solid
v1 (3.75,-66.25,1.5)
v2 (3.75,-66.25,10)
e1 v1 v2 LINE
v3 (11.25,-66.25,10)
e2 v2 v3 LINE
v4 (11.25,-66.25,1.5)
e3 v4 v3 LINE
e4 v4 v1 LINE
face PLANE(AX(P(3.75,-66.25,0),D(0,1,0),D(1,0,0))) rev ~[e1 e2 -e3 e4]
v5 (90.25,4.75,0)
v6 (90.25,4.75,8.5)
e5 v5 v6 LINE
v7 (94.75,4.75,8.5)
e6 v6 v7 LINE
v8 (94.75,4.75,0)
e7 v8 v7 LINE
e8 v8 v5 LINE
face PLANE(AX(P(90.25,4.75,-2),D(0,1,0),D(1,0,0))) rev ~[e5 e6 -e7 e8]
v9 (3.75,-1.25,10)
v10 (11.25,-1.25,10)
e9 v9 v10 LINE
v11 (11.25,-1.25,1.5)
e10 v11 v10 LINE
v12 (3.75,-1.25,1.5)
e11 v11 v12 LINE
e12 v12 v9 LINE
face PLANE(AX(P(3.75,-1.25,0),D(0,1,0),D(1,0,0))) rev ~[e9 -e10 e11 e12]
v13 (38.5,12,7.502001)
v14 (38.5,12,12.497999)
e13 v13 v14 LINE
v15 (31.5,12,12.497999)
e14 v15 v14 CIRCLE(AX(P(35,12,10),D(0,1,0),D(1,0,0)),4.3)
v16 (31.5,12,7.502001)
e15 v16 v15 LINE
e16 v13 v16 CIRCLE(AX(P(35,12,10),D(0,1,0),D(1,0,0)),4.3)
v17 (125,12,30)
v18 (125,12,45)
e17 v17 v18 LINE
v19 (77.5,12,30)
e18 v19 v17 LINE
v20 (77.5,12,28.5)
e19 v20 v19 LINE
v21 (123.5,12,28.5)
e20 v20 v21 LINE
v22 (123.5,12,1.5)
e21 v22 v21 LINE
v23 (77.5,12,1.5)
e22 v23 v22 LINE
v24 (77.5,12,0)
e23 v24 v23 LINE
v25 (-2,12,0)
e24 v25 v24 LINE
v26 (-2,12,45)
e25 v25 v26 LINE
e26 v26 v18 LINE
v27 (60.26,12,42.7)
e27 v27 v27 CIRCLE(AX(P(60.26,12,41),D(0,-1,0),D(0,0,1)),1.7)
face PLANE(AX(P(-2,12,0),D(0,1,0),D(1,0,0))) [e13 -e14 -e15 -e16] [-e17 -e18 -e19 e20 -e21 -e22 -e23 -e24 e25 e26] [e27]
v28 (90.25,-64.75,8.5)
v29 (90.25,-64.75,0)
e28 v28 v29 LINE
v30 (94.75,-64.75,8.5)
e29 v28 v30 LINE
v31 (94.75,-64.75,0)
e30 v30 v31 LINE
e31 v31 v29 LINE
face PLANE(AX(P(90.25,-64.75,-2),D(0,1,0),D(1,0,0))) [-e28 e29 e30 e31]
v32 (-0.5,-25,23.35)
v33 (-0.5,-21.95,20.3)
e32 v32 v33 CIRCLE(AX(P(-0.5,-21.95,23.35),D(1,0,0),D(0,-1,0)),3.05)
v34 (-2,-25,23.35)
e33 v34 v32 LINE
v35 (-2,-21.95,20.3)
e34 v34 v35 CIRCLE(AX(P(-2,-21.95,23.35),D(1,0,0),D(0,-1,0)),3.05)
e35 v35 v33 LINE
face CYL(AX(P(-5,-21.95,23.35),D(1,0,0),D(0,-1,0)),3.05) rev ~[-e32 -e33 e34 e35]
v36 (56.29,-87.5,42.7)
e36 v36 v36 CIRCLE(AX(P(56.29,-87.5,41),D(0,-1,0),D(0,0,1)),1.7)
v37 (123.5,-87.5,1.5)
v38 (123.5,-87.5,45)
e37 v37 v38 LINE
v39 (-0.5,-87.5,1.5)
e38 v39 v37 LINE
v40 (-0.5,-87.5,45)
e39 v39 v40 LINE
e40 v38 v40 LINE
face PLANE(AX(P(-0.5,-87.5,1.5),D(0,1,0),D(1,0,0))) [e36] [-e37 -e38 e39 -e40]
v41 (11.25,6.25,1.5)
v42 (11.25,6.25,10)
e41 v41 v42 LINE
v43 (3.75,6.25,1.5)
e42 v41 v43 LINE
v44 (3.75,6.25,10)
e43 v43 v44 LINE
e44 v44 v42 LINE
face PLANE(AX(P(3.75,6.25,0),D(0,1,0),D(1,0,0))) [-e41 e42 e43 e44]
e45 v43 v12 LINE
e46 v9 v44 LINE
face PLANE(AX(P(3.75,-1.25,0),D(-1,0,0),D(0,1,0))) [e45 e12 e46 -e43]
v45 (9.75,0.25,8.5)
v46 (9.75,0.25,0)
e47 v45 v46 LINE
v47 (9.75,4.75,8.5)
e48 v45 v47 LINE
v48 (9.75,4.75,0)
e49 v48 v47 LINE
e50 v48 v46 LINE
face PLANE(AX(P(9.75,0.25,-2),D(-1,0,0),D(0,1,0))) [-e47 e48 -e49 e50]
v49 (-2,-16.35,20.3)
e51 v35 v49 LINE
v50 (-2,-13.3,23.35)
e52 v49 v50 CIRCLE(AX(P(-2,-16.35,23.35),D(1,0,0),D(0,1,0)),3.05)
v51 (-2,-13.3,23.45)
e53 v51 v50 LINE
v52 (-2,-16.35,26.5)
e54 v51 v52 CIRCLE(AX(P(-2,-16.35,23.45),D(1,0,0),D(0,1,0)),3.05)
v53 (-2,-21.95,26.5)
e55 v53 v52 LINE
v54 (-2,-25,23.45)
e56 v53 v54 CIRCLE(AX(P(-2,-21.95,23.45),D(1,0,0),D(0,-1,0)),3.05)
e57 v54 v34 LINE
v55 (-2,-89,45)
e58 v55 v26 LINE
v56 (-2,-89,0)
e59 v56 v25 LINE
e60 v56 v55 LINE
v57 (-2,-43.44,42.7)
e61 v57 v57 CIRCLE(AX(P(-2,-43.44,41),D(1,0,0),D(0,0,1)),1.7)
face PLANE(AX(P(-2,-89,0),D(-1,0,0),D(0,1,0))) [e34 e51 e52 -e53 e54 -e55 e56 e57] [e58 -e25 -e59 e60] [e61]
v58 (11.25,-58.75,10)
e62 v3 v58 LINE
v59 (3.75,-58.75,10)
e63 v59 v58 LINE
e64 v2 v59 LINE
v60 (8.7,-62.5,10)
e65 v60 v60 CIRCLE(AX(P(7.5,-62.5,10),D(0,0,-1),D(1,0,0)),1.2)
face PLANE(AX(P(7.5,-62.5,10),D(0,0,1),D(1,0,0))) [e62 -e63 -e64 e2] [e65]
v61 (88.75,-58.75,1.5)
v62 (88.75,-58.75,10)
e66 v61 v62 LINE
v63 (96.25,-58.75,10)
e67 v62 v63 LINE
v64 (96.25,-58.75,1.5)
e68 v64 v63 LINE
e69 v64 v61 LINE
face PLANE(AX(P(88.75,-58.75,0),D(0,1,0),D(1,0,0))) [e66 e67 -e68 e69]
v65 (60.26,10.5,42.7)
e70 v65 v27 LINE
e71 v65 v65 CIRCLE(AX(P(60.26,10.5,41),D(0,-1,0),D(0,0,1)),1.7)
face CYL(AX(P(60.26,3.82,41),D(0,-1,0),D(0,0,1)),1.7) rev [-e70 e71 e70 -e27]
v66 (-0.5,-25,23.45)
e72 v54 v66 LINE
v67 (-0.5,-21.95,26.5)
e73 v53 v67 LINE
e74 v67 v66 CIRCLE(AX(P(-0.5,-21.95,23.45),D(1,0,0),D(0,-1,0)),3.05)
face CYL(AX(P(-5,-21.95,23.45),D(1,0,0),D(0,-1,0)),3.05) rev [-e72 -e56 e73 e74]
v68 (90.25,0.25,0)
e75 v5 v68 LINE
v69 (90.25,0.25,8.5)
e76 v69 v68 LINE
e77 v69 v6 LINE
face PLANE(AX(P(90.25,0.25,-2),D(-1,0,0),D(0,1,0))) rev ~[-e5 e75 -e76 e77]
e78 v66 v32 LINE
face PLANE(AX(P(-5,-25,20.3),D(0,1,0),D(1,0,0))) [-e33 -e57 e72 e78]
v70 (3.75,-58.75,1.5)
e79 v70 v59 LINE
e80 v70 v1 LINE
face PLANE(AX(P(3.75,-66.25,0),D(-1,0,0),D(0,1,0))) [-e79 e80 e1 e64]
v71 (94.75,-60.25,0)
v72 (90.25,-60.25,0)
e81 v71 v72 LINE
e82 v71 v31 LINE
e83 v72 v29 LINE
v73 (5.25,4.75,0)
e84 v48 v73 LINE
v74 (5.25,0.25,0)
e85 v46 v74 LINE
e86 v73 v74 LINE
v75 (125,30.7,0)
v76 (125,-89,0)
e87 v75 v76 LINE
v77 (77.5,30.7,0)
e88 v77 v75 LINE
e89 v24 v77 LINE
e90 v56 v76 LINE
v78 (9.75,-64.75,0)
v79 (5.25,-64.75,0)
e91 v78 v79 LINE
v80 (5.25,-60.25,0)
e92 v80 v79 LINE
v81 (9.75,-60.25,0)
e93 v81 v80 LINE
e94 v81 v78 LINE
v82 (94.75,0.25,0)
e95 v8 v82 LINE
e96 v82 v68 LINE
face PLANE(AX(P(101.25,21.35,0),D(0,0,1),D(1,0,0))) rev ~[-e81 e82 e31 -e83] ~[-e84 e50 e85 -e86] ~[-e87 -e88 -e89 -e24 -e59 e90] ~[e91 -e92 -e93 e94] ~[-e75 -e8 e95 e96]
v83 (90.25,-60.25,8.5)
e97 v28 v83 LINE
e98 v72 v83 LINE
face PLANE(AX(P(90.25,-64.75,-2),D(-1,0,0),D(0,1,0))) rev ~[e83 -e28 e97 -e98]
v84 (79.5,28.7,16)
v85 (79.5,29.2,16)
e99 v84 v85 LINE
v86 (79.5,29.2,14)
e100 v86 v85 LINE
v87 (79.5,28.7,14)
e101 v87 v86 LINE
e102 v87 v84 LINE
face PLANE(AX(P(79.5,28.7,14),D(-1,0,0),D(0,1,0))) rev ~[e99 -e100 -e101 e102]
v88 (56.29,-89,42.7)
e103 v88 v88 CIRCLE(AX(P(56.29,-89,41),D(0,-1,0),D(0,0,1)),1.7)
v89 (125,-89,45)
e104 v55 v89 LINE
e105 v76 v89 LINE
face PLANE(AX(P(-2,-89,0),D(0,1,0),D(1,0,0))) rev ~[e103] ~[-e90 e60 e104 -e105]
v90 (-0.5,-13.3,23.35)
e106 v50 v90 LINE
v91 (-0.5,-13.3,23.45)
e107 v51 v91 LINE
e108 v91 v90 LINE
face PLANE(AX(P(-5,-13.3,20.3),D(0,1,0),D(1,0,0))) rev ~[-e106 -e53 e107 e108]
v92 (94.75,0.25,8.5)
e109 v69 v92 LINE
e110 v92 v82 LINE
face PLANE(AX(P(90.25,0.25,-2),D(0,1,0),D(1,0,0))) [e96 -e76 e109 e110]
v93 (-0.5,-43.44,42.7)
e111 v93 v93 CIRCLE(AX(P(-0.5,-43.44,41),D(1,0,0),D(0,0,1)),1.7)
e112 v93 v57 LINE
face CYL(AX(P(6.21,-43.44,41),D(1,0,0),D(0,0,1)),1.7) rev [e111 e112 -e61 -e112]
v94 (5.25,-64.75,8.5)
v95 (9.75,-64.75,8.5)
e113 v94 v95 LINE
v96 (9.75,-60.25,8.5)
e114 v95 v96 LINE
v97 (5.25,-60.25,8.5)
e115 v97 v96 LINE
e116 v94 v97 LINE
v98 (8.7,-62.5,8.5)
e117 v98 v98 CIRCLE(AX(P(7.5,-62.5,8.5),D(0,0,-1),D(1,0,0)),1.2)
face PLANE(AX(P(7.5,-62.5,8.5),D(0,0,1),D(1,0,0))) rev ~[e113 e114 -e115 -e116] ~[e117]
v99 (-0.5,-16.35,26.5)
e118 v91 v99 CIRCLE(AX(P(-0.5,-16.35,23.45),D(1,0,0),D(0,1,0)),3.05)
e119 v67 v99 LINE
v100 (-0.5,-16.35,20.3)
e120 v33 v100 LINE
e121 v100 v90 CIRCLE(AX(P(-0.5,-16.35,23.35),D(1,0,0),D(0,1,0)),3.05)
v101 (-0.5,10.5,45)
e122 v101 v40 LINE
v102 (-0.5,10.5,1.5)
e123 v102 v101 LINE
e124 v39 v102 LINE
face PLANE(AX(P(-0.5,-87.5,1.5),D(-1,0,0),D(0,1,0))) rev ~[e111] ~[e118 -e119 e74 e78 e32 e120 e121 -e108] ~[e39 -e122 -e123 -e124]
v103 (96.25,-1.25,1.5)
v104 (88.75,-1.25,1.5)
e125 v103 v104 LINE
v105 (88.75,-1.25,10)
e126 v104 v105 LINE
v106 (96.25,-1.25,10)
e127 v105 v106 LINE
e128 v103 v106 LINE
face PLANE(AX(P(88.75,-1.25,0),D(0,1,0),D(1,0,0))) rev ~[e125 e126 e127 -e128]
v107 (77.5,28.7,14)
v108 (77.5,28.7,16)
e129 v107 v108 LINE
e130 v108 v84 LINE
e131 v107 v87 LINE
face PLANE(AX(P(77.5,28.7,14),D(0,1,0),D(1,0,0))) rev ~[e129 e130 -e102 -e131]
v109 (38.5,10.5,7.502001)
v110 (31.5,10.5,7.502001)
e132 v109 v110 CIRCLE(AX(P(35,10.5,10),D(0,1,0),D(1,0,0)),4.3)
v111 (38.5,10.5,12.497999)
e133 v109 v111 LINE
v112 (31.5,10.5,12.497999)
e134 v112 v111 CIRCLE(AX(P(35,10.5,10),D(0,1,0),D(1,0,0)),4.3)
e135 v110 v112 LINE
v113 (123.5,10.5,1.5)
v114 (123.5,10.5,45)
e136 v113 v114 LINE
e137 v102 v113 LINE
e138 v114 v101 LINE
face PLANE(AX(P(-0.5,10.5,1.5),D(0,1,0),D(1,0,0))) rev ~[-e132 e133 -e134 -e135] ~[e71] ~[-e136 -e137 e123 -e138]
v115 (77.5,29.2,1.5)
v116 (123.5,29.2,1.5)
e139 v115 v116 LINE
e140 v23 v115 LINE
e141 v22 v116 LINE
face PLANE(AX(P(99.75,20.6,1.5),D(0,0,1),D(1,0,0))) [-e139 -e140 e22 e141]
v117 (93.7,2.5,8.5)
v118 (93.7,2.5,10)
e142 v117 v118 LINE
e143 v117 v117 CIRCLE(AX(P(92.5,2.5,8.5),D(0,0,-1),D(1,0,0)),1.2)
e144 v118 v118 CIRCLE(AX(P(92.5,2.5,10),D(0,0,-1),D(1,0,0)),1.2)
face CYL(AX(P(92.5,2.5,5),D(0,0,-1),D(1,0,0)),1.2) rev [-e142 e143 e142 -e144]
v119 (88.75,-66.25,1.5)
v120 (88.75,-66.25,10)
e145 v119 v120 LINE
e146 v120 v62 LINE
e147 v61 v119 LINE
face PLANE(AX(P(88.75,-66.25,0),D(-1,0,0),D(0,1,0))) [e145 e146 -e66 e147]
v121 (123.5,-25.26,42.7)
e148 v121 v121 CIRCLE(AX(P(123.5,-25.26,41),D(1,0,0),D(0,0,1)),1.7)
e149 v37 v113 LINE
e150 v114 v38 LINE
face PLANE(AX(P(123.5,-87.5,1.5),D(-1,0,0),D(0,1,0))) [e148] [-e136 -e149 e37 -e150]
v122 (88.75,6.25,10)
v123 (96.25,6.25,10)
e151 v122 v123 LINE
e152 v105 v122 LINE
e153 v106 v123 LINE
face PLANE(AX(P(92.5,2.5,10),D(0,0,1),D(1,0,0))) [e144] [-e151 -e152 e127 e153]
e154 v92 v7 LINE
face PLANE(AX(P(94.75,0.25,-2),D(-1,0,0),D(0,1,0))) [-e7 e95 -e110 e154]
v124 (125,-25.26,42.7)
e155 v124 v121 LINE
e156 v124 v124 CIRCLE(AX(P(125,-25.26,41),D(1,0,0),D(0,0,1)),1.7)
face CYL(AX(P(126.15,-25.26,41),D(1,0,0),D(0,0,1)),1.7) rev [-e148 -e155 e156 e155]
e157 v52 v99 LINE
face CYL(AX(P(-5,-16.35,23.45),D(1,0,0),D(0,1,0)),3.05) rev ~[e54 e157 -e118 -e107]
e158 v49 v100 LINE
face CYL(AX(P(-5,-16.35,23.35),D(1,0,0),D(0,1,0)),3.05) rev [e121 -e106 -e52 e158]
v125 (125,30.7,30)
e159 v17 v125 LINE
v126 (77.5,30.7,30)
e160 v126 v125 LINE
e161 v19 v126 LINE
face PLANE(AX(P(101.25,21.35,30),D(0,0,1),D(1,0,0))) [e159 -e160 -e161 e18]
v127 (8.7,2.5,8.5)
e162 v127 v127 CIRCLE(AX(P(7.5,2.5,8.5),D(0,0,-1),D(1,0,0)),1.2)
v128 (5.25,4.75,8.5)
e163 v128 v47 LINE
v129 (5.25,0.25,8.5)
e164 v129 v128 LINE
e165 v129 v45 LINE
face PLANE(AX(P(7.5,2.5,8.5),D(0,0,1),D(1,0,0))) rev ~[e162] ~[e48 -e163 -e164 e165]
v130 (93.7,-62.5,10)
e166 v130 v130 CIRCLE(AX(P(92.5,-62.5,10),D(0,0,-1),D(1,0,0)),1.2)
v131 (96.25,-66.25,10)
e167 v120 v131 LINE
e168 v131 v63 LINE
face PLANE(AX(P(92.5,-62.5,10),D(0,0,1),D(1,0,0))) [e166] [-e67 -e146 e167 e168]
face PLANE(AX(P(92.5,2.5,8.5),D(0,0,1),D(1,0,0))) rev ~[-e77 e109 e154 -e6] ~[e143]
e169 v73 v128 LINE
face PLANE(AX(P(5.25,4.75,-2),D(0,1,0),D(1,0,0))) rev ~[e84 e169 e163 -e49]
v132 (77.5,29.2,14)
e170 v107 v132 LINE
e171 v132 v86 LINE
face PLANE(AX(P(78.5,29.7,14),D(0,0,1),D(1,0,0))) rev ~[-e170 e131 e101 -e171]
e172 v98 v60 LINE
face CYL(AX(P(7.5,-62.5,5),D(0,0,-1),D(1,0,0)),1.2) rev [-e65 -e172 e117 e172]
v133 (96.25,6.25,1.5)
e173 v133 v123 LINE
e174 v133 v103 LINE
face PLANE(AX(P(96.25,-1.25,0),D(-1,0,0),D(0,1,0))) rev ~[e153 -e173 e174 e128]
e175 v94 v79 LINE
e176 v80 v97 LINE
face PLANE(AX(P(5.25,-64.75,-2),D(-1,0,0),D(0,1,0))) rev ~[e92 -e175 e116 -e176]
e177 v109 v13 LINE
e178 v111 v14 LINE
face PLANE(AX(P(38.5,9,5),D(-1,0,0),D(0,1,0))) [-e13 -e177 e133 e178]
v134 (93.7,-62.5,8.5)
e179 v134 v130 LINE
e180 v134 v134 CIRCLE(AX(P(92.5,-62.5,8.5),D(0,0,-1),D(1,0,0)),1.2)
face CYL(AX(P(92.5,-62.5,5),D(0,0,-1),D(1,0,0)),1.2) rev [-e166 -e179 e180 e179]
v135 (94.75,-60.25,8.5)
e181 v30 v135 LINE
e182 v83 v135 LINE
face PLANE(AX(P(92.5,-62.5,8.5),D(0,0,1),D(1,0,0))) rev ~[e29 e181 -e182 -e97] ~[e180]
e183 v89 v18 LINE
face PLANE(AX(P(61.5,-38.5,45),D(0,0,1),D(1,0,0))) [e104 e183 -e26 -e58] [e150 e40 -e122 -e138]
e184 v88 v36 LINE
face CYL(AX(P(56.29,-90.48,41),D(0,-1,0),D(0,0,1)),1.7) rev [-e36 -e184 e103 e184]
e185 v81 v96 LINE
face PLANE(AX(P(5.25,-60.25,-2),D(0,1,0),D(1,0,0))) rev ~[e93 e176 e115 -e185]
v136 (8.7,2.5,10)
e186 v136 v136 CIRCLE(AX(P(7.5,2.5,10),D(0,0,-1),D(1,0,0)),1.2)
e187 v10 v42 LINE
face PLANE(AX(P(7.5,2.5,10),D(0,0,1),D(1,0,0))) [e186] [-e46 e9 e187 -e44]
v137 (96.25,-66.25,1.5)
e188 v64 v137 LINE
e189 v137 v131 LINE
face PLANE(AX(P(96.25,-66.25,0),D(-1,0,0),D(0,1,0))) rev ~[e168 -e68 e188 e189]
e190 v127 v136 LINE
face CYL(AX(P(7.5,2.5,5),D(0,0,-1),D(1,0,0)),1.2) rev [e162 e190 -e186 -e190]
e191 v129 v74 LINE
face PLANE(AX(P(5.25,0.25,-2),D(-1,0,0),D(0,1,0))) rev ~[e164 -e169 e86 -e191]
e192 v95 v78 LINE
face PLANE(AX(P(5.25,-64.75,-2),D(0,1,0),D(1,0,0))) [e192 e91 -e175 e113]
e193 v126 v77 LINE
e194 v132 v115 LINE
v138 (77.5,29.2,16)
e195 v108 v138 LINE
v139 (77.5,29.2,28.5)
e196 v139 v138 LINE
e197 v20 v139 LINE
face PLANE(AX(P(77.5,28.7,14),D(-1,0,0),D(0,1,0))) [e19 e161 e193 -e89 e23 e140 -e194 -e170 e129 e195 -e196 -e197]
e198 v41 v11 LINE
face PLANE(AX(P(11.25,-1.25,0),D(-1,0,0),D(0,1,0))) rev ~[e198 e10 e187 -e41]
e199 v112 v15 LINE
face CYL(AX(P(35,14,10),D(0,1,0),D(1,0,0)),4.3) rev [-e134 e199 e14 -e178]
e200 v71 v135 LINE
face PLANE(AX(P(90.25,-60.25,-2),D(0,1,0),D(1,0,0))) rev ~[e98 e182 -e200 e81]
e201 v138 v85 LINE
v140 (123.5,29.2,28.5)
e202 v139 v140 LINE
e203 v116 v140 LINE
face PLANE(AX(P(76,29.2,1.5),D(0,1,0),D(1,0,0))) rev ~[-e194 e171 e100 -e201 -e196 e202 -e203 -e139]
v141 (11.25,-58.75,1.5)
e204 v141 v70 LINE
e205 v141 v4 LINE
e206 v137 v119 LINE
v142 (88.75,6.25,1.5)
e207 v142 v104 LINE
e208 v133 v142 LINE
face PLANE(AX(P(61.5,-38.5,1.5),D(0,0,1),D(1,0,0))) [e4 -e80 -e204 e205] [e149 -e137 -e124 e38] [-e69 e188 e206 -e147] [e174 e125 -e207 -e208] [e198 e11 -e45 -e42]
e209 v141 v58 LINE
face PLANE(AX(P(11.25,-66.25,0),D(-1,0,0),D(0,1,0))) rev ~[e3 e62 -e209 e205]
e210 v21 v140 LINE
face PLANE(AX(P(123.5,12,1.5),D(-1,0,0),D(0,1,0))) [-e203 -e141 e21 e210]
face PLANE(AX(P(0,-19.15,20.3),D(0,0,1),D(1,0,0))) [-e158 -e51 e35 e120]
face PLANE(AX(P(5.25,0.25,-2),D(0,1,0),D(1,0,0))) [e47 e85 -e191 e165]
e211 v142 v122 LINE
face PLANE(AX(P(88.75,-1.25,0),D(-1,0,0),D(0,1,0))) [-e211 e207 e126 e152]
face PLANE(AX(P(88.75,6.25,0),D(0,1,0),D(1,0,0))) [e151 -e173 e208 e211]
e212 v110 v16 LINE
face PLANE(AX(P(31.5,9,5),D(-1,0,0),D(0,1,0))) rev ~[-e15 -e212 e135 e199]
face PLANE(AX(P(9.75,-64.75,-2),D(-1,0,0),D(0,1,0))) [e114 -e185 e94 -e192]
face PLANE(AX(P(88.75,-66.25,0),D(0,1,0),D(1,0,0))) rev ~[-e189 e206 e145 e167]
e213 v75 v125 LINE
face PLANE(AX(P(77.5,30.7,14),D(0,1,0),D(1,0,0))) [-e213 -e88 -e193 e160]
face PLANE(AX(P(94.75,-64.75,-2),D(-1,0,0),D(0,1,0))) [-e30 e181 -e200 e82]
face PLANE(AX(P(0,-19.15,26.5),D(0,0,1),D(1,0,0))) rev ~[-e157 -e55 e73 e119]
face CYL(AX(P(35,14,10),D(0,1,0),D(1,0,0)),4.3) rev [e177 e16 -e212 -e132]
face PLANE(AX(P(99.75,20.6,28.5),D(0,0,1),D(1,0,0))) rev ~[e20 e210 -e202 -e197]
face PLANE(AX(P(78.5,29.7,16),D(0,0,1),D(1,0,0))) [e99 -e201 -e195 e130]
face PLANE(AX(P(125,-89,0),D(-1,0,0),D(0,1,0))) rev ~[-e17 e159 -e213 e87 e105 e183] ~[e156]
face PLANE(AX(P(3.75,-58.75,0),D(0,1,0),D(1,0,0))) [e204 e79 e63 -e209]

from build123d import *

# Parameters (mm, degrees)
BOX054_W          = 2
BOX054_H          = 2
BOX054_DEPTH      = 2
BOX051_W          = 47.5
BOX051_H          = 17.2
BOX051_DEPTH      = 27
BOX050_W          = 47.5
BOX050_H          = 18.7
BOX050_DEPTH      = 30
BOX053_W          = 10
BOX053_H          = 11.7
BOX053_DEPTH      = 6.2
FILLET001_R       = 3.05
CYLINDER038_R     = 1.7
CYLINDER038_DEPTH = 10
CYLINDER037_R     = 1.7
CYLINDER037_DEPTH = 10
CYLINDER036_R     = 1.7
CYLINDER036_DEPTH = 10
CYLINDER035_R     = 1.7
CYLINDER035_DEPTH = 10
BOX024_W          = 10
BOX024_H          = 10
BOX024_DEPTH      = 10
BOX025_W          = 10
BOX025_H          = 10
BOX025_DEPTH      = 10
CYLINDER023_R     = 4.3
CYLINDER023_DEPTH = 5
CYLINDER019_R     = 1.2
CYLINDER019_DEPTH = 10
BOX013_W          = 4.5
BOX013_H          = 4.5
BOX013_DEPTH      = 10
BOX012_W          = 7.5
BOX012_H          = 7.5
BOX012_DEPTH      = 10
CYLINDER020_R     = 1.2
CYLINDER020_DEPTH = 10
BOX015_W          = 4.5
BOX015_H          = 4.5
BOX015_DEPTH      = 10
BOX014_W          = 7.5
BOX014_H          = 7.5
BOX014_DEPTH      = 10
CYLINDER021_R     = 1.2
CYLINDER021_DEPTH = 10
BOX017_W          = 4.5
BOX017_H          = 4.5
BOX017_DEPTH      = 10
BOX016_W          = 7.5
BOX016_H          = 7.5
BOX016_DEPTH      = 10
CYLINDER022_R     = 1.2
CYLINDER022_DEPTH = 10
BOX019_W          = 4.5
BOX019_H          = 4.5
BOX019_DEPTH      = 10
BOX018_W          = 7.5
BOX018_H          = 7.5
BOX018_DEPTH      = 10
BOX022_W          = 4.5
BOX022_H          = 4.5
BOX022_DEPTH      = 10
BOX021_W          = 4.5
BOX021_H          = 4.5
BOX021_DEPTH      = 10
BOX023_W          = 4.5
BOX023_H          = 4.5
BOX023_DEPTH      = 10
CYLINDER016_R     = 1.2
CYLINDER016_DEPTH = 100
BOX020_W          = 4.5
BOX020_H          = 4.5
BOX020_DEPTH      = 10
CYLINDER015_R     = 1.2
CYLINDER015_DEPTH = 100
BOX010_W          = 124
BOX010_H          = 98
BOX010_DEPTH      = 45
BOX009_W          = 127
BOX009_H          = 101
BOX009_DEPTH      = 45


with BuildPart() as cube054:
    # Box054 → Box054 (new body)
    with BuildSketch(Plane(origin=(77.5, 107.7, 14), x_dir=(1, 0, 0), z_dir=(0, 0, 1))):
        with Locations((1, 1)):
            Rectangle(BOX054_W, BOX054_H)
    extrude(amount=BOX054_DEPTH)


with BuildPart() as cube051:
    # Box051 → Box051 (new body)
    with BuildSketch(Plane(origin=(-1.5, 0, 60), x_dir=(1, 0, 0), z_dir=(0, 0, 1))):
        with Locations((23.75, 8.6)):
            Rectangle(BOX051_W, BOX051_H)
    extrude(amount=BOX051_DEPTH)


with BuildPart() as batteryholder:
    # Box050 → Box050 (new body)
    with BuildSketch(Plane.XY.offset(58.5)):
        with Locations((23.75, 9.35)):
            Rectangle(BOX050_W, BOX050_H)
    extrude(amount=BOX050_DEPTH)

    # Cut062: cut Cube051
    add(cube051.part, mode=Mode.SUBTRACT)


with BuildPart() as batteryholder_1:
    # Cut062 placement: moved
    add(batteryholder.part.moved(Location((77.5, 91, -58.5))))

    # Fusion004: union Cube054
    add(cube054.part)


with BuildPart() as fillet001:
    # Box053 → Box053 (new body)
    with BuildSketch(Plane(origin=(0, -50, 10.3), x_dir=(1, 0, 0), z_dir=(0, 0, 1))):
        with Locations((5, 5.85)):
            Rectangle(BOX053_W, BOX053_H)
    extrude(amount=BOX053_DEPTH)

    # Fillet001
    fillet001_edges = [fillet001.edges().sort_by_distance(p)[0] for p in [
        (5, -50, 10.3),
        (5, -50, 16.5),
        (5, -38.3, 10.3),
        (5, -38.3, 16.5),
    ]]
    fillet(fillet001_edges, radius=FILLET001_R)


with BuildPart() as fillet001_1:
    # Fillet001 placement: moved
    add(fillet001.part.moved(Location((-5, 104, 10))))


with BuildPart() as cylinder038:
    # Cylinder038 → Cylinder038 (new body)
    with BuildSketch(Plane(origin=(126.15, 53.74, 41), x_dir=(0, 0, 1), z_dir=(-1, 0, 0))):
        Circle(CYLINDER038_R)
    extrude(amount=CYLINDER038_DEPTH)


with BuildPart() as cylinder037:
    # Cylinder037 → Cylinder037 (new body)
    with BuildSketch(Plane(origin=(56.29, -11.48, 41), x_dir=(0, 0, 1), z_dir=(0, 1, 0))):
        Circle(CYLINDER037_R)
    extrude(amount=CYLINDER037_DEPTH)


with BuildPart() as cylinder036:
    # Cylinder036 → Cylinder036 (new body)
    with BuildSketch(Plane(origin=(60.26, 82.82, 41), x_dir=(0, 0, 1), z_dir=(0, 1, 0))):
        Circle(CYLINDER036_R)
    extrude(amount=CYLINDER036_DEPTH)


with BuildPart() as cylinder035:
    # Cylinder035 → Cylinder035 (new body)
    with BuildSketch(Plane(origin=(6.21, 35.56, 41), x_dir=(0, 0, 1), z_dir=(-1, 0, 0))):
        Circle(CYLINDER035_R)
    extrude(amount=CYLINDER035_DEPTH)


with BuildPart() as cube024:
    # Box024 → Box024 (new body)
    with BuildSketch(Plane(origin=(53.5, -105, 4), x_dir=(1, 0, 0), z_dir=(0, 0, 1))):
        with Locations((5, 5)):
            Rectangle(BOX024_W, BOX024_H)
    extrude(amount=BOX024_DEPTH)


with BuildPart() as cube025:
    # Box025 → Box025 (new body)
    with BuildSketch(Plane(origin=(36.5, -105, 4), x_dir=(1, 0, 0), z_dir=(0, 0, 1))):
        with Locations((5, 5)):
            Rectangle(BOX025_W, BOX025_H)
    extrude(amount=BOX025_DEPTH)


with BuildPart() as cut034:
    # Cylinder023 → Cylinder023 (new body)
    with BuildSketch(Plane(origin=(50, -100, 9), x_dir=(1, 0, 0), z_dir=(0, -1, 0))):
        Circle(CYLINDER023_R)
    extrude(amount=CYLINDER023_DEPTH)

    # Cut033: cut Cube025
    add(cube025.part, mode=Mode.SUBTRACT)

    # Cut034: cut Cube024
    add(cube024.part, mode=Mode.SUBTRACT)


with BuildPart() as cut034_1:
    # Cut034 placement: moved
    add(cut034.part.moved(Location((-15, 193, 1))))


with BuildPart() as cylinder019:
    # Cylinder019 → Cylinder019 (new body)
    with BuildSketch(Plane(origin=(7.5, 16.5, 105), x_dir=(1, 0, 0), z_dir=(0, 0, 1))):
        Circle(CYLINDER019_R)
    extrude(amount=CYLINDER019_DEPTH)


with BuildPart() as cube013:
    # Box013 → Box013 (new body)
    with BuildSketch(Plane(origin=(5.25, 14.25, 98.5), x_dir=(1, 0, 0), z_dir=(0, 0, 1))):
        with Locations((2.25, 2.25)):
            Rectangle(BOX013_W, BOX013_H)
    extrude(amount=BOX013_DEPTH)


with BuildPart() as cut008:
    # Box012 → Box012 (new body)
    with BuildSketch(Plane(origin=(3.75, 12.75, 100), x_dir=(1, 0, 0), z_dir=(0, 0, 1))):
        with Locations((3.75, 3.75)):
            Rectangle(BOX012_W, BOX012_H)
    extrude(amount=BOX012_DEPTH)

    # Cut007: cut Cube013
    add(cube013.part, mode=Mode.SUBTRACT)

    # Cut008: cut Cylinder019
    add(cylinder019.part, mode=Mode.SUBTRACT)


with BuildPart() as cut008_1:
    # Cut008 placement: moved
    add(cut008.part.moved(Location((0, 0, -100))))


with BuildPart() as cylinder020:
    # Cylinder020 → Cylinder020 (new body)
    with BuildSketch(Plane(origin=(7.5, 16.5, 105), x_dir=(1, 0, 0), z_dir=(0, 0, 1))):
        Circle(CYLINDER020_R)
    extrude(amount=CYLINDER020_DEPTH)


with BuildPart() as cube015:
    # Box015 → Box015 (new body)
    with BuildSketch(Plane(origin=(5.25, 14.25, 98.5), x_dir=(1, 0, 0), z_dir=(0, 0, 1))):
        with Locations((2.25, 2.25)):
            Rectangle(BOX015_W, BOX015_H)
    extrude(amount=BOX015_DEPTH)


with BuildPart() as cut010:
    # Box014 → Box014 (new body)
    with BuildSketch(Plane(origin=(3.75, 12.75, 100), x_dir=(1, 0, 0), z_dir=(0, 0, 1))):
        with Locations((3.75, 3.75)):
            Rectangle(BOX014_W, BOX014_H)
    extrude(amount=BOX014_DEPTH)

    # Cut011: cut Cube015
    add(cube015.part, mode=Mode.SUBTRACT)

    # Cut010: cut Cylinder020
    add(cylinder020.part, mode=Mode.SUBTRACT)


with BuildPart() as cut010_1:
    # Cut010 placement: moved
    add(cut010.part.moved(Location((85, 0, -100))))


with BuildPart() as cylinder021:
    # Cylinder021 → Cylinder021 (new body)
    with BuildSketch(Plane(origin=(7.5, 16.5, 105), x_dir=(1, 0, 0), z_dir=(0, 0, 1))):
        Circle(CYLINDER021_R)
    extrude(amount=CYLINDER021_DEPTH)


with BuildPart() as cube017:
    # Box017 → Box017 (new body)
    with BuildSketch(Plane(origin=(5.25, 14.25, 98.5), x_dir=(1, 0, 0), z_dir=(0, 0, 1))):
        with Locations((2.25, 2.25)):
            Rectangle(BOX017_W, BOX017_H)
    extrude(amount=BOX017_DEPTH)


with BuildPart() as cut013:
    # Box016 → Box016 (new body)
    with BuildSketch(Plane(origin=(3.75, 12.75, 100), x_dir=(1, 0, 0), z_dir=(0, 0, 1))):
        with Locations((3.75, 3.75)):
            Rectangle(BOX016_W, BOX016_H)
    extrude(amount=BOX016_DEPTH)

    # Cut012: cut Cube017
    add(cube017.part, mode=Mode.SUBTRACT)

    # Cut013: cut Cylinder021
    add(cylinder021.part, mode=Mode.SUBTRACT)


with BuildPart() as cut013_1:
    # Cut013 placement: moved
    add(cut013.part.moved(Location((85, 65, -100))))


with BuildPart() as cylinder022:
    # Cylinder022 → Cylinder022 (new body)
    with BuildSketch(Plane(origin=(7.5, 16.5, 105), x_dir=(1, 0, 0), z_dir=(0, 0, 1))):
        Circle(CYLINDER022_R)
    extrude(amount=CYLINDER022_DEPTH)


with BuildPart() as cube019:
    # Box019 → Box019 (new body)
    with BuildSketch(Plane(origin=(5.25, 14.25, 98.5), x_dir=(1, 0, 0), z_dir=(0, 0, 1))):
        with Locations((2.25, 2.25)):
            Rectangle(BOX019_W, BOX019_H)
    extrude(amount=BOX019_DEPTH)


with BuildPart() as cut014:
    # Box018 → Box018 (new body)
    with BuildSketch(Plane(origin=(3.75, 12.75, 100), x_dir=(1, 0, 0), z_dir=(0, 0, 1))):
        with Locations((3.75, 3.75)):
            Rectangle(BOX018_W, BOX018_H)
    extrude(amount=BOX018_DEPTH)

    # Cut015: cut Cube019
    add(cube019.part, mode=Mode.SUBTRACT)

    # Cut014: cut Cylinder022
    add(cylinder022.part, mode=Mode.SUBTRACT)


with BuildPart() as cut014_1:
    # Cut014 placement: moved
    add(cut014.part.moved(Location((0, 65, -100))))


with BuildPart() as cube022:
    # Box022 → Box022 (new body)
    with BuildSketch(Plane(origin=(90.25, 79.25, -2), x_dir=(1, 0, 0), z_dir=(0, 0, 1))):
        with Locations((2.25, 2.25)):
            Rectangle(BOX022_W, BOX022_H)
    extrude(amount=BOX022_DEPTH)


with BuildPart() as cube021:
    # Box021 → Box021 (new body)
    with BuildSketch(Plane(origin=(5.25, 79.25, -2), x_dir=(1, 0, 0), z_dir=(0, 0, 1))):
        with Locations((2.25, 2.25)):
            Rectangle(BOX021_W, BOX021_H)
    extrude(amount=BOX021_DEPTH)


with BuildPart() as cube023:
    # Box023 → Box023 (new body)
    with BuildSketch(Plane(origin=(90.25, 14.25, -2), x_dir=(1, 0, 0), z_dir=(0, 0, 1))):
        with Locations((2.25, 2.25)):
            Rectangle(BOX023_W, BOX023_H)
    extrude(amount=BOX023_DEPTH)


with BuildPart() as cylinder016:
    # Cylinder016 → Cylinder016 (new body)
    with BuildSketch(Plane(origin=(92.5, 16.5, -25), x_dir=(1, 0, 0), z_dir=(0, 0, 1))):
        Circle(CYLINDER016_R)
    extrude(amount=CYLINDER016_DEPTH)


with BuildPart() as cube020:
    # Box020 → Box020 (new body)
    with BuildSketch(Plane(origin=(5.25, 14.25, -2), x_dir=(1, 0, 0), z_dir=(0, 0, 1))):
        with Locations((2.25, 2.25)):
            Rectangle(BOX020_W, BOX020_H)
    extrude(amount=BOX020_DEPTH)


with BuildPart() as cylinder015:
    # Cylinder015 → Cylinder015 (new body)
    with BuildSketch(Plane(origin=(7.5, 16.5, -25), x_dir=(1, 0, 0), z_dir=(0, 0, 1))):
        Circle(CYLINDER015_R)
    extrude(amount=CYLINDER015_DEPTH)


with BuildPart() as cube010:
    # Box010 → Box010 (new body)
    with BuildSketch(Plane(origin=(-0.5, -8.5, 1.5), x_dir=(1, 0, 0), z_dir=(0, 0, 1))):
        with Locations((62, 49)):
            Rectangle(BOX010_W, BOX010_H)
    extrude(amount=BOX010_DEPTH)


with BuildPart() as controlbox:
    # Box009 → Box009 (new body)
    with BuildSketch(Plane(origin=(-2, -10, 0), x_dir=(1, 0, 0), z_dir=(0, 0, 1))):
        with Locations((63.5, 50.5)):
            Rectangle(BOX009_W, BOX009_H)
    extrude(amount=BOX009_DEPTH)

    # Cut006: cut Cube010
    add(cube010.part, mode=Mode.SUBTRACT)

    # Cut009: cut Cylinder015
    add(cylinder015.part, mode=Mode.SUBTRACT)

    # Cut016: cut Cube020
    add(cube020.part, mode=Mode.SUBTRACT)

    # Cut017: cut Cylinder016
    add(cylinder016.part, mode=Mode.SUBTRACT)

    # Cut018: cut Cube023
    add(cube023.part, mode=Mode.SUBTRACT)

    # Cut019: cut Cube021
    add(cube021.part, mode=Mode.SUBTRACT)

    # Cut020: cut Cube022
    add(cube022.part, mode=Mode.SUBTRACT)

    # Connect: union Cut014
    add(cut014_1.part)

    # Connect001: union Cut013
    add(cut013_1.part)

    # Connect002: union Cut010
    add(cut010_1.part)

    # Connect003: union Cut008
    add(cut008_1.part)

    # Cut043: cut Cut034
    add(cut034_1.part, mode=Mode.SUBTRACT)

    # Cut058: cut Cylinder035
    add(cylinder035.part, mode=Mode.SUBTRACT)

    # Cut059: cut Cylinder036
    add(cylinder036.part, mode=Mode.SUBTRACT)

    # Cut060: cut Cylinder037
    add(cylinder037.part, mode=Mode.SUBTRACT)

    # Cut061: cut Cylinder038
    add(cylinder038.part, mode=Mode.SUBTRACT)

    # Cut064: cut Fillet001
    add(fillet001_1.part, mode=Mode.SUBTRACT)

    # Fusion006: union BatteryHolder
    add(batteryholder_1.part)


with BuildPart() as controlbox_1:
    # Fusion006 placement: moved
    add(controlbox.part.moved(Location((0, -79, 0))))


solid = controlbox_1.part
